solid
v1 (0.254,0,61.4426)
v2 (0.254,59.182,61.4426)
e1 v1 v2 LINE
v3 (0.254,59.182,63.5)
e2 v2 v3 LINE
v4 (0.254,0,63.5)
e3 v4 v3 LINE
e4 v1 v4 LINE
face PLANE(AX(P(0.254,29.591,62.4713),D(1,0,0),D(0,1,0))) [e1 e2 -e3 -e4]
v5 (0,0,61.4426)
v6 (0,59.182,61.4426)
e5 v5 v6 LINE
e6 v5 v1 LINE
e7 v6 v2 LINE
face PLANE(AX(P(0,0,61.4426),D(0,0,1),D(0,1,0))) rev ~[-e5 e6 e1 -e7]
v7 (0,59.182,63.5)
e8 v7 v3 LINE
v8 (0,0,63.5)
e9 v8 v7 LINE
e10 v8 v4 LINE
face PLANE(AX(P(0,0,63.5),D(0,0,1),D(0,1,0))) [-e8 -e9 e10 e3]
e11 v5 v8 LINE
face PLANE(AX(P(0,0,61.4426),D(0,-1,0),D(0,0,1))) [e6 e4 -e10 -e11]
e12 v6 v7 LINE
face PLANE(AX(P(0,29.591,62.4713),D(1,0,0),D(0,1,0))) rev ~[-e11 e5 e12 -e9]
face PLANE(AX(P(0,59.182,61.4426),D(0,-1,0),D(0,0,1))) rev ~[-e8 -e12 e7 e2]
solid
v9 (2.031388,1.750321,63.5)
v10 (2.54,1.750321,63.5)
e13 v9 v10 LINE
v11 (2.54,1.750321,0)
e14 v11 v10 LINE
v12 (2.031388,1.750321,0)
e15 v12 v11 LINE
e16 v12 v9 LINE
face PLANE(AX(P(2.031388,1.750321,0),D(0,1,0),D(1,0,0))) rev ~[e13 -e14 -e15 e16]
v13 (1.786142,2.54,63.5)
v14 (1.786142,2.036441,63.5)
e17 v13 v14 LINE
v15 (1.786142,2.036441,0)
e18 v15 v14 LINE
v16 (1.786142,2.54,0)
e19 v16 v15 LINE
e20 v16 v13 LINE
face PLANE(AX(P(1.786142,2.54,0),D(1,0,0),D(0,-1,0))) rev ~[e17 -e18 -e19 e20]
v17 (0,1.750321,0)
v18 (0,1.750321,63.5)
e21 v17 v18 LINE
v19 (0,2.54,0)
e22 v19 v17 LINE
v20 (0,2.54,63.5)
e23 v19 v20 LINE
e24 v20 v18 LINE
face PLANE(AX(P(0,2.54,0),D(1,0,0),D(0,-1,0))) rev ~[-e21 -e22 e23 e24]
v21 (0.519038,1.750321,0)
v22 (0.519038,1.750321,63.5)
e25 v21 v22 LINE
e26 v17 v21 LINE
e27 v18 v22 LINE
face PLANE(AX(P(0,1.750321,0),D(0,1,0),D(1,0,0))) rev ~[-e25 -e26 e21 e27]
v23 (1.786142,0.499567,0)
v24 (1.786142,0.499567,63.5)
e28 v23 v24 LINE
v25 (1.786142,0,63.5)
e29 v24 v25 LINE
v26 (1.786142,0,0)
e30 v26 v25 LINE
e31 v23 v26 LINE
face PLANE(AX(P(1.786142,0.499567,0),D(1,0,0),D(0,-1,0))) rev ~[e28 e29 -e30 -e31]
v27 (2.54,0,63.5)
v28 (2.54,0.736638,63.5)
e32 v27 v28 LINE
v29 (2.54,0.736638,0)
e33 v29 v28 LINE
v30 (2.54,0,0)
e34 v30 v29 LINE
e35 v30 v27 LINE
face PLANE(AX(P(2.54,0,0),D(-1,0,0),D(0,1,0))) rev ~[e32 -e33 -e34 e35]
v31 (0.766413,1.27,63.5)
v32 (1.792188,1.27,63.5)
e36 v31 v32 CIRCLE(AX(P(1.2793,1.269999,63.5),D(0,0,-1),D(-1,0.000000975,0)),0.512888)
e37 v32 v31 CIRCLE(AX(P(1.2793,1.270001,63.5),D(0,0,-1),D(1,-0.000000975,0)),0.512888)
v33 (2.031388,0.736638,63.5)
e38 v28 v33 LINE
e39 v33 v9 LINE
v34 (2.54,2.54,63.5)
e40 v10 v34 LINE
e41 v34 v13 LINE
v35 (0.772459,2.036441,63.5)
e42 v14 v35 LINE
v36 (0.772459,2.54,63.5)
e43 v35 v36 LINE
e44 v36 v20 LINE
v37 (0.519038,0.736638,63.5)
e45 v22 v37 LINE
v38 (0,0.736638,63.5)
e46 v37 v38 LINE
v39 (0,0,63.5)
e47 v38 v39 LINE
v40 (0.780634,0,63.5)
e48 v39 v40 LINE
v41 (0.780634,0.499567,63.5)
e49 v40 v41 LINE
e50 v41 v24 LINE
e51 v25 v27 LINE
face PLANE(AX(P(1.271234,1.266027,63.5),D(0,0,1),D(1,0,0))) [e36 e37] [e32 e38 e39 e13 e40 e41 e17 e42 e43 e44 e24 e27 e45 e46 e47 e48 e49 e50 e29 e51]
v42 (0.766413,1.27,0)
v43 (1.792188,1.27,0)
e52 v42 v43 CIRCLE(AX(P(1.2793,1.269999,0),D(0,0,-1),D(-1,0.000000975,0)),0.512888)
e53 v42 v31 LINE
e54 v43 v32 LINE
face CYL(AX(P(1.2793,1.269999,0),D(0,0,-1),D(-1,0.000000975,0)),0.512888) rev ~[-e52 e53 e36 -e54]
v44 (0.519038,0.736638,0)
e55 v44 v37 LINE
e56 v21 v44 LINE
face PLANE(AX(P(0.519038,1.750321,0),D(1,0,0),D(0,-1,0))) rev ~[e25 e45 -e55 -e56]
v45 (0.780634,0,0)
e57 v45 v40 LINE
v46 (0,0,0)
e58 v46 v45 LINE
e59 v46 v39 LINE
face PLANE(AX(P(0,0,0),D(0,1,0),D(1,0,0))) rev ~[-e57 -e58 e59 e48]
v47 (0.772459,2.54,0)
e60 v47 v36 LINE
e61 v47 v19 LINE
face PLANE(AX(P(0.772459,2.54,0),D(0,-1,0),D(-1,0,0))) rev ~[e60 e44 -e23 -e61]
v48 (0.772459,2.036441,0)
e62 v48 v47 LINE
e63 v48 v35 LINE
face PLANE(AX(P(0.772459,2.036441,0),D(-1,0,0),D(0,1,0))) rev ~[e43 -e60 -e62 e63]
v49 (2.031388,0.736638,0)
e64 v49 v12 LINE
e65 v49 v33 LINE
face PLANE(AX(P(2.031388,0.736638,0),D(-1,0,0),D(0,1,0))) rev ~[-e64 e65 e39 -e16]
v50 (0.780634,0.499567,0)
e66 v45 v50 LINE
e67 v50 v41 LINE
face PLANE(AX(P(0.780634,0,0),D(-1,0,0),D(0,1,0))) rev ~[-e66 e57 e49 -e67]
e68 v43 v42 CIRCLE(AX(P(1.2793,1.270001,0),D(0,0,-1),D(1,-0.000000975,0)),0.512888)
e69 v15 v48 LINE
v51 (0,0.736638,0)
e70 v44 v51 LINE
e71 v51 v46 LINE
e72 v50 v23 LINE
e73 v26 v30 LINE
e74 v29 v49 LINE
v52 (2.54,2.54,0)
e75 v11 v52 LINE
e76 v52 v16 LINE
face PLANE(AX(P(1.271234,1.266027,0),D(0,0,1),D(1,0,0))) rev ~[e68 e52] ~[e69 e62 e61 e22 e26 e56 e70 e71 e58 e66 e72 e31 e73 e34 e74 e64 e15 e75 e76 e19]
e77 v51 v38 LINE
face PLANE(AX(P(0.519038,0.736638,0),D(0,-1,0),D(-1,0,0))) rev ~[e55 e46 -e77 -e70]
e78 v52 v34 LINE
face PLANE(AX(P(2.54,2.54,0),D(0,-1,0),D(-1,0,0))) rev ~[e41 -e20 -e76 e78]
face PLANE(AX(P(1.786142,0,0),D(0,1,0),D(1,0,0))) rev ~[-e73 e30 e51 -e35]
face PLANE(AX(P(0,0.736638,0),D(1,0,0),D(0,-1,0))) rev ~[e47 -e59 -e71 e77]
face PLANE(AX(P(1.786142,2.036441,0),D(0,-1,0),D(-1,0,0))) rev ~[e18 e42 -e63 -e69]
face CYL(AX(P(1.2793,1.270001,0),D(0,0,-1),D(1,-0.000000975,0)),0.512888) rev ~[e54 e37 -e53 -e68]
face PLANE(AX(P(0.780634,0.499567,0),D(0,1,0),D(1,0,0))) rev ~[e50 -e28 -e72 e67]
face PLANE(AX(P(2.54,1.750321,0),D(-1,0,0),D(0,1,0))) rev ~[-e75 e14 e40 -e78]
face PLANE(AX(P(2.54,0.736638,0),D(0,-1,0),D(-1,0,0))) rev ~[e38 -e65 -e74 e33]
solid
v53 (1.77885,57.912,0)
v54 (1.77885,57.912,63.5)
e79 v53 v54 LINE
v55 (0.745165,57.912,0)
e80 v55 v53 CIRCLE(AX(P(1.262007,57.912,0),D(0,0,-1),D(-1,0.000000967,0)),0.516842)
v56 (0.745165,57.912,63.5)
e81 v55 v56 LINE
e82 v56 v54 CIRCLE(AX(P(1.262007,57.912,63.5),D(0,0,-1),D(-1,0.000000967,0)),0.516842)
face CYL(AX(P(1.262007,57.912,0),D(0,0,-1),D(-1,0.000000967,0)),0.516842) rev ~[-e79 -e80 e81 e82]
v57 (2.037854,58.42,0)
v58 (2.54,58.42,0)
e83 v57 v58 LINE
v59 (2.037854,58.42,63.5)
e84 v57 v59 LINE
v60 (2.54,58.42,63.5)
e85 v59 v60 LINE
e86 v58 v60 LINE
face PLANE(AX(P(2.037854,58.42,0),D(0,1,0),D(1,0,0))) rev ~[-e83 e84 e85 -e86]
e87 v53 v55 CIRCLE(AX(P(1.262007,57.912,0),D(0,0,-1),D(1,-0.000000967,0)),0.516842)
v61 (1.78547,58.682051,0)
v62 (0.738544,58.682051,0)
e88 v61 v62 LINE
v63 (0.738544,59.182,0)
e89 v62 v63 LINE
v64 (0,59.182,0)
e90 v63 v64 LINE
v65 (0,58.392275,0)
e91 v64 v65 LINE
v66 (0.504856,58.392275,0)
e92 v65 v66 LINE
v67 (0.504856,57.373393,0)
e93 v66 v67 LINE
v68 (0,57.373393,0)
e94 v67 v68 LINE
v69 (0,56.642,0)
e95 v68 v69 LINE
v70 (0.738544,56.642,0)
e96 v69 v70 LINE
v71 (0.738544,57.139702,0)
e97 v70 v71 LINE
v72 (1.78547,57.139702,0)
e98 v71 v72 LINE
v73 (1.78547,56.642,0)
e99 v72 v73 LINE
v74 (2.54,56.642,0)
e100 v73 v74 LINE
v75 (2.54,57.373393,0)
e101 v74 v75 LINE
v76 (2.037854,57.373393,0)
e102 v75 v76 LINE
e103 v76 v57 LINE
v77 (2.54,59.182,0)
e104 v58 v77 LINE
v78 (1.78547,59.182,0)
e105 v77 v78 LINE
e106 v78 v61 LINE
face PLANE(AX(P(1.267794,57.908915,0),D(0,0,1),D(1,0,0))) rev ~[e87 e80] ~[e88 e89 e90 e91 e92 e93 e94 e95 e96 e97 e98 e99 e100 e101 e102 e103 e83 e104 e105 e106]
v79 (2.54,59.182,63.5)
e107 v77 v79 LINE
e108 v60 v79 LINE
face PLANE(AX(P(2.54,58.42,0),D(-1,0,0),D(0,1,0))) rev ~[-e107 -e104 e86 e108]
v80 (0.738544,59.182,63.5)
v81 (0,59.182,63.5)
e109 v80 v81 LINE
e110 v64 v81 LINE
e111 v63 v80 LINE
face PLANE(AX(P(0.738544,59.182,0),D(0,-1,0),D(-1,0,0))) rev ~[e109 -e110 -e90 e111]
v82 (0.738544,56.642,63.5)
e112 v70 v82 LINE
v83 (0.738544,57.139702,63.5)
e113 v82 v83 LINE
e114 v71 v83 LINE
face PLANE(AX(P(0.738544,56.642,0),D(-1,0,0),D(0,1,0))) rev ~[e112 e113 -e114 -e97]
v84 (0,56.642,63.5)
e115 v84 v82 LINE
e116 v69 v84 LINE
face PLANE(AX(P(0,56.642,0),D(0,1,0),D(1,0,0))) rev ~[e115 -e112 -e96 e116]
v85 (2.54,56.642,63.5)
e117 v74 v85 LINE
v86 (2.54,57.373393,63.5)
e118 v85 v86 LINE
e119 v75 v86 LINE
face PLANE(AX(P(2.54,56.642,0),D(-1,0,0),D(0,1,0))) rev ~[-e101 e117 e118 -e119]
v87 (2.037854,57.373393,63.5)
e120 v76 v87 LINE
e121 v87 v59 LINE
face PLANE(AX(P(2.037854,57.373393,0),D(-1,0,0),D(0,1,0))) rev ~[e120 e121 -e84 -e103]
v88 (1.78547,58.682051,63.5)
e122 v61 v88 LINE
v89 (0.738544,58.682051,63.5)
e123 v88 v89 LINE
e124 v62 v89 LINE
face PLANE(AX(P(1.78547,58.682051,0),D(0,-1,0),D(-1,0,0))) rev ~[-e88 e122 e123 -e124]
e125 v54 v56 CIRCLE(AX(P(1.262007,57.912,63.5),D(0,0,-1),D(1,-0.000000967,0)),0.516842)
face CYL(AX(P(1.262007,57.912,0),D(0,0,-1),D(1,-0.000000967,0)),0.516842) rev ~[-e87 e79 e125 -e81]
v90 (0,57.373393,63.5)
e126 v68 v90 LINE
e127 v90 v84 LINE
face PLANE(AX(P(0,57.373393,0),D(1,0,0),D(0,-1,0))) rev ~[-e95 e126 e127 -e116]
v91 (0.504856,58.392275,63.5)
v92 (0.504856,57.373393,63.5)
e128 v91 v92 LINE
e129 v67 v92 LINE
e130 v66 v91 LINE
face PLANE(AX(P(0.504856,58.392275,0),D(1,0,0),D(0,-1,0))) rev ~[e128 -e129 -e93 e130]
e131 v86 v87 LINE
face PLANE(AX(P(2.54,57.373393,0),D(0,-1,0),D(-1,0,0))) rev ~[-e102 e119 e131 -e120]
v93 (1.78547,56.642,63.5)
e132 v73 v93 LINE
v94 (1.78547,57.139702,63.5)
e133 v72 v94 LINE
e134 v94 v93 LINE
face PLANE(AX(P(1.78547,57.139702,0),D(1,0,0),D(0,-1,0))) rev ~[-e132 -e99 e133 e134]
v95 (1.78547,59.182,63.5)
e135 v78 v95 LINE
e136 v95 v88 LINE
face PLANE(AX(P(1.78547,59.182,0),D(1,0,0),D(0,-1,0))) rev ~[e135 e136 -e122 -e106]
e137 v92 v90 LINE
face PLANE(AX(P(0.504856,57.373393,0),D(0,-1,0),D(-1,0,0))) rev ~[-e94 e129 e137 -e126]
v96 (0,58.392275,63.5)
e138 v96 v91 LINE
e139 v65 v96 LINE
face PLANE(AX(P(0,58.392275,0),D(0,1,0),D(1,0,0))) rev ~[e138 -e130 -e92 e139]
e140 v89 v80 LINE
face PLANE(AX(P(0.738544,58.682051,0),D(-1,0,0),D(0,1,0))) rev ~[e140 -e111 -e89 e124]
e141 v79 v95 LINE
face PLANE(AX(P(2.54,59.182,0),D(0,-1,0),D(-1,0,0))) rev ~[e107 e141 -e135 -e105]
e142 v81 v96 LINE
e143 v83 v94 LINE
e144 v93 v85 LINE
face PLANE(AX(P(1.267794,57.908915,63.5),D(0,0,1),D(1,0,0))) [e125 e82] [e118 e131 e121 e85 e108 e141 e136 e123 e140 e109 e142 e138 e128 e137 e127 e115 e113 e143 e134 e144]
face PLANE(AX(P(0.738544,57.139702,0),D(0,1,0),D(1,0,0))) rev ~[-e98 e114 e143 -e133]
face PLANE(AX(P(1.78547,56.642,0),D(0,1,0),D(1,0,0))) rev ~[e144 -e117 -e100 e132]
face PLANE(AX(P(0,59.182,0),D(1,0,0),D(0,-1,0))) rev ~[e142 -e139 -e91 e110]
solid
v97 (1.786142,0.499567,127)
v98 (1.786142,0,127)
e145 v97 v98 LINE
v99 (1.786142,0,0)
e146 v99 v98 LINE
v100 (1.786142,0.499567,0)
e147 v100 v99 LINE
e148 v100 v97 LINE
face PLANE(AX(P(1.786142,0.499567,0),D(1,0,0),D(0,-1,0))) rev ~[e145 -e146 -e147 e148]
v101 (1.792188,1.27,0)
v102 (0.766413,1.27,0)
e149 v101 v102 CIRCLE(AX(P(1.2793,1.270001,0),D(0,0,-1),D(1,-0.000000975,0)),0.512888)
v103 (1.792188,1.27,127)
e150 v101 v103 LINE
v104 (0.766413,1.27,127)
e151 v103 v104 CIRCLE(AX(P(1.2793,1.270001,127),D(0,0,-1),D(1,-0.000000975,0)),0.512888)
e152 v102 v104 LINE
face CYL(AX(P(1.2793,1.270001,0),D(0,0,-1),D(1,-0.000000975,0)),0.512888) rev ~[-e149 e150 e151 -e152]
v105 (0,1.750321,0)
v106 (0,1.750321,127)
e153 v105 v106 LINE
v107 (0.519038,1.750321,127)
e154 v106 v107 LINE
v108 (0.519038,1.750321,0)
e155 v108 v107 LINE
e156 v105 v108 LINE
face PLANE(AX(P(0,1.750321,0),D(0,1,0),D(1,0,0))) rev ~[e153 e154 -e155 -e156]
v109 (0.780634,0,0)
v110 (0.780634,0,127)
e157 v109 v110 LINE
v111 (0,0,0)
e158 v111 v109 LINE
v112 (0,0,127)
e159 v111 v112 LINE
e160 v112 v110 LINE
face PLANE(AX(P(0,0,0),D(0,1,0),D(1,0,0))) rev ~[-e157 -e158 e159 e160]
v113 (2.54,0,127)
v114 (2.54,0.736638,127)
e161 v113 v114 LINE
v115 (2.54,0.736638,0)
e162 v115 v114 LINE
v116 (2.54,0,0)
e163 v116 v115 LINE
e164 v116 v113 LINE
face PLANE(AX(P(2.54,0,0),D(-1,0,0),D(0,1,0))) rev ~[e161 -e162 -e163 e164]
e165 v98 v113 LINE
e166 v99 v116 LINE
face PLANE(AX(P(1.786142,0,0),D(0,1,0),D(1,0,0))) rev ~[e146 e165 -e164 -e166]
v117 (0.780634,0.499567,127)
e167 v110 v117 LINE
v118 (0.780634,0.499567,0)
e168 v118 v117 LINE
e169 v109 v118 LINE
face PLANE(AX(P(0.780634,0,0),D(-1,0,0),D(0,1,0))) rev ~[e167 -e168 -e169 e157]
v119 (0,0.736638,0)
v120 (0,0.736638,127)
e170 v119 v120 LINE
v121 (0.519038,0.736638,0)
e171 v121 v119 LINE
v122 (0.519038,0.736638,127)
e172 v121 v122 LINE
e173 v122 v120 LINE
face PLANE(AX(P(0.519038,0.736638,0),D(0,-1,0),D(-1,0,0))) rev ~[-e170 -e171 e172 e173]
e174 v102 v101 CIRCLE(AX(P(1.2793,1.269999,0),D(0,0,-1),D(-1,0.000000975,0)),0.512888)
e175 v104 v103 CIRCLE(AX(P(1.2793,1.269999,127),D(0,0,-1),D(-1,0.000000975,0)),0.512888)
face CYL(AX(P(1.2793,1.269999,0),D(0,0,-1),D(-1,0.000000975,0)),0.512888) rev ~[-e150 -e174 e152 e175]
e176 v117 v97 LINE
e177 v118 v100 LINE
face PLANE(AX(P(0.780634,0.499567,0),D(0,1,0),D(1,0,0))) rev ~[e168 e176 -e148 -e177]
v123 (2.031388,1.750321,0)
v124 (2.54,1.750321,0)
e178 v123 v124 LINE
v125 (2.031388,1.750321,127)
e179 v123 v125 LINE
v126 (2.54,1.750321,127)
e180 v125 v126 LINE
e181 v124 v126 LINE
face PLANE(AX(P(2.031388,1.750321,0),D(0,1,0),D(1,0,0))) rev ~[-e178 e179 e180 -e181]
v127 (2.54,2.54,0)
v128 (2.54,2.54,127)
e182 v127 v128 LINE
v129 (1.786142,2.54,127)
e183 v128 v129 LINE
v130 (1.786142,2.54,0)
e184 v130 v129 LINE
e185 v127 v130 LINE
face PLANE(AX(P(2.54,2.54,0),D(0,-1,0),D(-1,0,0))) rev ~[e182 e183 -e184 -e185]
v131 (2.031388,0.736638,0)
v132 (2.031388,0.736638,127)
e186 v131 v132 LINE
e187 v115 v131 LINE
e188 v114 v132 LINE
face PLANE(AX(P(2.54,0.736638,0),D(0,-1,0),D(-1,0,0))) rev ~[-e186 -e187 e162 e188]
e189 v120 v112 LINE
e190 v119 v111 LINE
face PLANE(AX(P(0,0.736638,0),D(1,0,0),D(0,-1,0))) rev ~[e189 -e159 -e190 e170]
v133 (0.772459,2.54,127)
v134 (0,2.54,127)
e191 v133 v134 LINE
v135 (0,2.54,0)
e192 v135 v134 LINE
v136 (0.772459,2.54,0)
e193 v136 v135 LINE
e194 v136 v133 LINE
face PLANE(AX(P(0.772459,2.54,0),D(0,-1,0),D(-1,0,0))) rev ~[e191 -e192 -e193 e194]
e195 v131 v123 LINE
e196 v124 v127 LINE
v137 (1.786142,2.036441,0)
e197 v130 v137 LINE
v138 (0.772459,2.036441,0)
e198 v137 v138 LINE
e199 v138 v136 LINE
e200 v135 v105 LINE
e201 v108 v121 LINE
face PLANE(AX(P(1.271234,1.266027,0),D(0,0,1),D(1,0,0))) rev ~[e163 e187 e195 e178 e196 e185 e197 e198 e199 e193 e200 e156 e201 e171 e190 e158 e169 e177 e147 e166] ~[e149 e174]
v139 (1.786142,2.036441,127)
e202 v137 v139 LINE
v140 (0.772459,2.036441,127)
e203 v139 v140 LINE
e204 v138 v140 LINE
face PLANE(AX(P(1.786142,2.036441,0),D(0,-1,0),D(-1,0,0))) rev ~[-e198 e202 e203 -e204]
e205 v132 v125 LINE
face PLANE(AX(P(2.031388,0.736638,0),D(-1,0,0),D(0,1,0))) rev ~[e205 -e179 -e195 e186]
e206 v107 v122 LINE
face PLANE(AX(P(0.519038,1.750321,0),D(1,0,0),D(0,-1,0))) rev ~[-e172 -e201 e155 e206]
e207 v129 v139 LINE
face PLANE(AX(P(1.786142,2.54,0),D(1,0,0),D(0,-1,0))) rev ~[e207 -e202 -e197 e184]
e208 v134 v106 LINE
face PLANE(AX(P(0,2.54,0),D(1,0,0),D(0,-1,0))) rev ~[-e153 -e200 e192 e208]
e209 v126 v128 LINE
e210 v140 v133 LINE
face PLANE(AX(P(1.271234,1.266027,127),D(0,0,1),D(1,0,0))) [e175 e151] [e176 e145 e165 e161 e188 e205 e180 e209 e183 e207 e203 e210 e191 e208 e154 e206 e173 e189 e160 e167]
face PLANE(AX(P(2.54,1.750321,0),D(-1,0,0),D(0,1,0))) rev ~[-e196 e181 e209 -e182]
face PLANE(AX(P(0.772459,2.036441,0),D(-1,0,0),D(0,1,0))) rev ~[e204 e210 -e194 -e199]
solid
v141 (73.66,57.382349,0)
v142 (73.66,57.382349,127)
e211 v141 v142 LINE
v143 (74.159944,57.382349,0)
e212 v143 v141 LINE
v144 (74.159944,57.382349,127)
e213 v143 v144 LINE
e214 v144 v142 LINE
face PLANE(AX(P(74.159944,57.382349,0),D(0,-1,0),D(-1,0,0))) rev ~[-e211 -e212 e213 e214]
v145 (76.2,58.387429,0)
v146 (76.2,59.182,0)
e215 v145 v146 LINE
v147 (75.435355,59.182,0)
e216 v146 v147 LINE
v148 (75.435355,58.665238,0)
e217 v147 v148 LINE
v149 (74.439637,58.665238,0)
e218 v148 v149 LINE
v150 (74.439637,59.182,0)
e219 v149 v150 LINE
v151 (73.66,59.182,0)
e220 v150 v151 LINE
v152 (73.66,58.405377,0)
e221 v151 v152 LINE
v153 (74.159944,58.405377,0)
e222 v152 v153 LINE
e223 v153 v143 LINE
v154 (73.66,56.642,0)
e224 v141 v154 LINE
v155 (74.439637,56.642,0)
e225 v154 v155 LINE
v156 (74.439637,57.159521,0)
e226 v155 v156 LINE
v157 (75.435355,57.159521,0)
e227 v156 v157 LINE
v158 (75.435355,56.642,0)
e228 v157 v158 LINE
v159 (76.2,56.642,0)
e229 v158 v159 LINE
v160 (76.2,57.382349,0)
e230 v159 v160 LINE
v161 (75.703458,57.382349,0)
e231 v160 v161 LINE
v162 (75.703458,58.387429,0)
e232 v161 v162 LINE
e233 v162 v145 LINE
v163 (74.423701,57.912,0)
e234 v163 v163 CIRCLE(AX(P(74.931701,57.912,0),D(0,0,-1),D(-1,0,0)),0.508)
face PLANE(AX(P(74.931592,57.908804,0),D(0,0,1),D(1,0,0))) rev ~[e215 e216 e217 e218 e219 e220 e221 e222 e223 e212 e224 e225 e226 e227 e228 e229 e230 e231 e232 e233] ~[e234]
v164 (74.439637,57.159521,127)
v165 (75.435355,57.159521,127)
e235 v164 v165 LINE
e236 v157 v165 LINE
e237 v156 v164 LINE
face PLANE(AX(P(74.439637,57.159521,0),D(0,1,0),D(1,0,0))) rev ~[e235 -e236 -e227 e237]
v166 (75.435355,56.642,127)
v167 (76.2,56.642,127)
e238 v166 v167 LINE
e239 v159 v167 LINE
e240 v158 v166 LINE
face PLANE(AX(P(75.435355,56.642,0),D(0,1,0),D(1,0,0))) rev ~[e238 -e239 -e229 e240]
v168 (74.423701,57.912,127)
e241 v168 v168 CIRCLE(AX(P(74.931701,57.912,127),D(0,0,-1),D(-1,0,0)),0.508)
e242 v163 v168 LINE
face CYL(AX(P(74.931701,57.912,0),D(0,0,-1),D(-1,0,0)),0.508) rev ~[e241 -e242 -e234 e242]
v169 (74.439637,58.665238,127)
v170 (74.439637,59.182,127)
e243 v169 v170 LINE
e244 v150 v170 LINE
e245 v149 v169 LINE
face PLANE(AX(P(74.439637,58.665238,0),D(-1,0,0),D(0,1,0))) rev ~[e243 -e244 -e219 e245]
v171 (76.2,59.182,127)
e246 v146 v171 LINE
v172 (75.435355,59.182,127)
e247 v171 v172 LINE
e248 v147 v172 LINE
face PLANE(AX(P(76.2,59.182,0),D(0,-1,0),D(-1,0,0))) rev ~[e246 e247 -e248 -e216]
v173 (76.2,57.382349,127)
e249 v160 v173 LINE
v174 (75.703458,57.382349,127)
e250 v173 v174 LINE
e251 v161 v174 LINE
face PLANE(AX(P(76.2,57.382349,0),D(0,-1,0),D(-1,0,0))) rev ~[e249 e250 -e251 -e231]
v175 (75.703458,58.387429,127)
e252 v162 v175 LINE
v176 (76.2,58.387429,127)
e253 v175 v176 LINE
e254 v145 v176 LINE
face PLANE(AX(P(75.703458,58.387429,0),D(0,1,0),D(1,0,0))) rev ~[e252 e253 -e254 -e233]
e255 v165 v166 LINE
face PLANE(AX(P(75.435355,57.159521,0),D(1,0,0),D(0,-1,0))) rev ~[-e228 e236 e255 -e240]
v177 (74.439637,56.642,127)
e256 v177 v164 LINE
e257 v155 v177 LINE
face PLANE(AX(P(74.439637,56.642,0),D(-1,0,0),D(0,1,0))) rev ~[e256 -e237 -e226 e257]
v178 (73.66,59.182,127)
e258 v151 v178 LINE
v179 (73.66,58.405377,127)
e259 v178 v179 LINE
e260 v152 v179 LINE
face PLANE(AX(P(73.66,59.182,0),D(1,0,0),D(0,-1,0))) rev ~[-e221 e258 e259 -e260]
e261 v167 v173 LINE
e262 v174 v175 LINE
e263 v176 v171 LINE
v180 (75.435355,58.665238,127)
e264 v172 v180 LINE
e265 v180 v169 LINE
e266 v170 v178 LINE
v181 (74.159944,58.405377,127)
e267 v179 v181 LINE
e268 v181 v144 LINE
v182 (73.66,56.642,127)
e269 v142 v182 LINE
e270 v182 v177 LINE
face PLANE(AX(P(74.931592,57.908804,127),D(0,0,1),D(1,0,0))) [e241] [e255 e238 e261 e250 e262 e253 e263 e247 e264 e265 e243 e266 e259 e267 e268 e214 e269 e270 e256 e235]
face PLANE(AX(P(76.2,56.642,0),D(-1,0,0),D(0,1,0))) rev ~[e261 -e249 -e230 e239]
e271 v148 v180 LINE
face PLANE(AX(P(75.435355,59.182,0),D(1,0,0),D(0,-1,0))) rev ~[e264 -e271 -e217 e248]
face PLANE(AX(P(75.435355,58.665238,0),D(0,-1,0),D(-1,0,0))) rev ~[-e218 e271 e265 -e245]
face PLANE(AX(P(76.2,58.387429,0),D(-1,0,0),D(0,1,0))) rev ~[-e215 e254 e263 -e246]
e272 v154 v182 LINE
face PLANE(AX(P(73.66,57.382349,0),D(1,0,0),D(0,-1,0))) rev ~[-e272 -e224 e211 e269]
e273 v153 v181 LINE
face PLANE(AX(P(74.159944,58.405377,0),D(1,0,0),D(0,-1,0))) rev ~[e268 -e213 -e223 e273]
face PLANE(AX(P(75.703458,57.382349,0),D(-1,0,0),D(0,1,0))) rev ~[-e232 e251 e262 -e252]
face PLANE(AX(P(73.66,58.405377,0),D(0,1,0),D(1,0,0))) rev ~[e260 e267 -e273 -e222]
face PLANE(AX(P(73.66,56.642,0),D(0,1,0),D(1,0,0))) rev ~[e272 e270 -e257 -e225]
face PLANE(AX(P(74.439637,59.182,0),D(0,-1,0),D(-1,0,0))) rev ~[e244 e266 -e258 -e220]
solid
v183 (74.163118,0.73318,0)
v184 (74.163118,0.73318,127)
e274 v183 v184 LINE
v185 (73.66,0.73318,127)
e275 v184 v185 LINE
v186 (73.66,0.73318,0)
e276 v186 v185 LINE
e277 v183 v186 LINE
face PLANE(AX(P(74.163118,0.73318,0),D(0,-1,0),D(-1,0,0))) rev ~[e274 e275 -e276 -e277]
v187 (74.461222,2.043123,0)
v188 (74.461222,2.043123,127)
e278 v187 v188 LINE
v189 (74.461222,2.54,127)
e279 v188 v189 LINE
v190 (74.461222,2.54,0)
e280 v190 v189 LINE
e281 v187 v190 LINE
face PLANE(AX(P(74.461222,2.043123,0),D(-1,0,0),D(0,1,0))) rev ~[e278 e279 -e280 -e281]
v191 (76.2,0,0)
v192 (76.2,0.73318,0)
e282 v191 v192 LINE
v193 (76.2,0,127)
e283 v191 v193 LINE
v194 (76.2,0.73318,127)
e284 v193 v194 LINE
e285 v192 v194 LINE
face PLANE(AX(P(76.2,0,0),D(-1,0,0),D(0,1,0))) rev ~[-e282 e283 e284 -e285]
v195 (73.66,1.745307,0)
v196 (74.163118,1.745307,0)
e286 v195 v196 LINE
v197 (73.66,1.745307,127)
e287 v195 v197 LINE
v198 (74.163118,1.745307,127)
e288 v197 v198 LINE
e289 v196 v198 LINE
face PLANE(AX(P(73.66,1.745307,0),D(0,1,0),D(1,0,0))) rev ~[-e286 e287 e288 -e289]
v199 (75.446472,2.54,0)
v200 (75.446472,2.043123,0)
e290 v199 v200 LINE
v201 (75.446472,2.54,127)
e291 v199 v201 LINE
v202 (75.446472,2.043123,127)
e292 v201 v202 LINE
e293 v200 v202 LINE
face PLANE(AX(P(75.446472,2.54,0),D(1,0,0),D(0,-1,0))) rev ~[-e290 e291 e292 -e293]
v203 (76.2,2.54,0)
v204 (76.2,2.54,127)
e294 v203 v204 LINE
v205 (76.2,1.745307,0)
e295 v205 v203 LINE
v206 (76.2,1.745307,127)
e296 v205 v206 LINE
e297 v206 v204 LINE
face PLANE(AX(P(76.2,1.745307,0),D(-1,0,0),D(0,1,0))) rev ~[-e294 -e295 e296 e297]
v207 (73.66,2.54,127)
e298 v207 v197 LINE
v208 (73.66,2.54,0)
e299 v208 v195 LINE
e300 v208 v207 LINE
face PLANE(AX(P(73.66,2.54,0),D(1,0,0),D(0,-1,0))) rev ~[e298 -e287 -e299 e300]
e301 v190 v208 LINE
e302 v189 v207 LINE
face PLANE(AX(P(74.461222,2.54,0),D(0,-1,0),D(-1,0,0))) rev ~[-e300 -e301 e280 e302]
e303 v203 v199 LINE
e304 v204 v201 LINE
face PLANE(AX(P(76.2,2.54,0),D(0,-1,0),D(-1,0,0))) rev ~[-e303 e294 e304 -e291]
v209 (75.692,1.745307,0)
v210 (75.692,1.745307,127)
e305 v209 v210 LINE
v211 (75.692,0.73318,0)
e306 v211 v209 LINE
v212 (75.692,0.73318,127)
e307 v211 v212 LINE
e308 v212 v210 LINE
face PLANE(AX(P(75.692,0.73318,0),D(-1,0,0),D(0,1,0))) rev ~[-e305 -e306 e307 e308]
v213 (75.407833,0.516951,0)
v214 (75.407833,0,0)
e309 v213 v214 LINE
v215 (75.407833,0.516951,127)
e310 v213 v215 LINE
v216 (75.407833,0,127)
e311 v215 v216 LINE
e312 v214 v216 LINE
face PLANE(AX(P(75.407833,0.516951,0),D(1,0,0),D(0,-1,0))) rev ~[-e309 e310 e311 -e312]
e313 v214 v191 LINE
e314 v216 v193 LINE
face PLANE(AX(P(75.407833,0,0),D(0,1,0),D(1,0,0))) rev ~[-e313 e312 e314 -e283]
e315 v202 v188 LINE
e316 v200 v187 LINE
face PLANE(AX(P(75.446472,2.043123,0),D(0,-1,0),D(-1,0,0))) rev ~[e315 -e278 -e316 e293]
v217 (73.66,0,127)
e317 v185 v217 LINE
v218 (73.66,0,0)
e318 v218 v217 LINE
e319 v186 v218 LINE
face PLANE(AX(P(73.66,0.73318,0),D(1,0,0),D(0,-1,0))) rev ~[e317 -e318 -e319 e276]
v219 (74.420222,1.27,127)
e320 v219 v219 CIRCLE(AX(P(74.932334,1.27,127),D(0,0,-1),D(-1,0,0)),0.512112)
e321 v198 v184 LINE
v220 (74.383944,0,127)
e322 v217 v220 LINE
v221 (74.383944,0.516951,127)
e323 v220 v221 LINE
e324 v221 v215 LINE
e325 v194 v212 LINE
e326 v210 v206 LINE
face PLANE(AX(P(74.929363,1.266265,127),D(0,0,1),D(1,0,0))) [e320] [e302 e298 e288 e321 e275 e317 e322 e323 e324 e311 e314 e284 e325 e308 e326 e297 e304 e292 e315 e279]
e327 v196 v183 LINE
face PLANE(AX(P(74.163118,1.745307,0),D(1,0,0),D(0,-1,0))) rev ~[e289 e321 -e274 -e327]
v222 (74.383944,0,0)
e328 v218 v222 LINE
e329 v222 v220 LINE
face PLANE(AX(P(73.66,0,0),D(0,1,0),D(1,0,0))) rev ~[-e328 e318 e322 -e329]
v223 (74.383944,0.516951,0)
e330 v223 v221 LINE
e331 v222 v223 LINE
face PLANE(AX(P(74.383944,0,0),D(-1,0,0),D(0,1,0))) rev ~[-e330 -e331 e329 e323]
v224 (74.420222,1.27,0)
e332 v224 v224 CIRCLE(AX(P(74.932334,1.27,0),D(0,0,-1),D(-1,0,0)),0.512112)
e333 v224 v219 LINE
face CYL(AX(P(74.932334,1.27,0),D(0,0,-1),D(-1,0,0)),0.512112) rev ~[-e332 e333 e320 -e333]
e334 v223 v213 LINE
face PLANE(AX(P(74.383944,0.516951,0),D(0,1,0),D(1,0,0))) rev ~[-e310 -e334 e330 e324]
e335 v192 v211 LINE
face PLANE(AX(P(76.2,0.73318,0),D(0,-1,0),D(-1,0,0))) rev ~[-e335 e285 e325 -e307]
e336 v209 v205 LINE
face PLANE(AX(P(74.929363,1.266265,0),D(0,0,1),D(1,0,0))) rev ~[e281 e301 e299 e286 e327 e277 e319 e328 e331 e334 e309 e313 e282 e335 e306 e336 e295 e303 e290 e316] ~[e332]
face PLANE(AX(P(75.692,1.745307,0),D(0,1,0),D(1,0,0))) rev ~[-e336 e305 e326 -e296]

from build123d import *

# Parameters (mm, degrees)
F1_DEPTH = 127
F2_W     = 59.182
F2_H     = 2.0574
F3_DEPTH = 0.254
F4_DEPTH = 63.5


with BuildPart() as f1:
    # F0 (on Top) → F1 (new body)
    with BuildSketch(Plane.XY):
        Polygon((75.435355, 56.642), (76.2, 56.642), (76.2, 57.382349), (75.703458, 57.382349), (75.703458, 58.387429), (76.2, 58.387429), (76.2, 59.182), (75.435355, 59.182), (75.435355, 58.665238), (74.439637, 58.665238), (74.439637, 59.182), (73.66, 59.182), (73.66, 58.405377), (74.159944, 58.405377), (74.159944, 57.912), (74.159944, 57.382349), (73.66, 57.382349), (73.66, 56.642), (74.439637, 56.642), (74.439637, 57.159521), (75.435355, 57.159521), align=None)
        with BuildLine():
            ThreePointArc((75.439701, 57.912), (74.931701, 57.404), (74.423701, 57.912))
            ThreePointArc((74.423701, 57.912), (74.931701, 58.42), (75.439701, 57.912))
        make_face(mode=Mode.SUBTRACT)
        Polygon((73.66, 0.73318), (73.66, 0), (74.383944, 0), (74.383944, 0.516951), (75.407833, 0.516951), (75.407833, 0), (76.2, 0), (76.2, 0.73318), (75.692, 0.73318), (75.692, 1.745307), (76.2, 1.745307), (76.2, 2.54), (75.446472, 2.54), (75.446472, 2.043123), (74.461222, 2.043123), (74.461222, 2.54), (73.66, 2.54), (73.66, 1.745307), (74.163118, 1.745307), (74.163118, 1.27), (74.163118, 0.73318), align=None)
        with BuildLine():
            ThreePointArc((75.444446, 1.27), (74.932334, 0.757888), (74.420222, 1.27))
            ThreePointArc((74.420222, 1.27), (74.932334, 1.782112), (75.444446, 1.27))
        make_face(mode=Mode.SUBTRACT)
        Polygon((0, 0.736638), (0, 0), (0.780634, 0), (0.780634, 0.499567), (1.786142, 0.499567), (1.786142, 0), (2.54, 0), (2.54, 0.736638), (2.031388, 0.736638), (2.031388, 1.750321), (2.54, 1.750321), (2.54, 2.54), (1.786142, 2.54), (1.786142, 2.036441), (0.772459, 2.036441), (0.772459, 2.54), (0, 2.54), (0, 1.750321), (0.519038, 1.750321), (0.519038, 1.27), (0.519038, 0.736638), align=None)
        with BuildLine():
            ThreePointArc((1.792188, 1.27), (1.2793, 0.757113), (0.766413, 1.27))
            ThreePointArc((0.766413, 1.27), (1.2793, 1.782887), (1.792188, 1.27))
        make_face(mode=Mode.SUBTRACT)
    extrude(amount=F1_DEPTH)


with BuildPart() as f3:
    # F2 (on Right) → F3 (new body)
    with BuildSketch(Plane.YZ):
        with Locations((29.591, 62.4713)):
            Rectangle(F2_W, F2_H)
    extrude(amount=F3_DEPTH)


with BuildPart() as f4:
    # F0 (on Top) → F4 (new body)
    with BuildSketch(Plane.XY):
        Polygon((0, 0.736638), (0, 0), (0.780634, 0), (0.780634, 0.499567), (1.786142, 0.499567), (1.786142, 0), (2.54, 0), (2.54, 0.736638), (2.031388, 0.736638), (2.031388, 1.750321), (2.54, 1.750321), (2.54, 2.54), (1.786142, 2.54), (1.786142, 2.036441), (0.772459, 2.036441), (0.772459, 2.54), (0, 2.54), (0, 1.750321), (0.519038, 1.750321), (0.519038, 1.27), (0.519038, 0.736638), align=None)
        with BuildLine():
            ThreePointArc((1.792188, 1.27), (1.2793, 0.757113), (0.766413, 1.27))
            ThreePointArc((0.766413, 1.27), (1.2793, 1.782887), (1.792188, 1.27))
        make_face(mode=Mode.SUBTRACT)
        Polygon((0, 57.373393), (0, 56.642), (0.738544, 56.642), (0.738544, 57.139702), (1.78547, 57.139702), (1.78547, 56.642), (2.54, 56.642), (2.54, 57.373393), (2.037854, 57.373393), (2.037854, 58.42), (2.54, 58.42), (2.54, 59.182), (1.78547, 59.182), (1.78547, 58.682051), (0.738544, 58.682051), (0.738544, 59.182), (0, 59.182), (0, 58.392275), (0.504856, 58.392275), (0.504856, 57.912), (0.504856, 57.373393), align=None)
        with BuildLine():
            ThreePointArc((1.77885, 57.912), (1.262007, 57.395158), (0.745165, 57.912))
            ThreePointArc((0.745165, 57.912), (1.262007, 58.428842), (1.77885, 57.912))
        make_face(mode=Mode.SUBTRACT)
    extrude(amount=F4_DEPTH)


solid = Compound([f1.part, f3.part, f4.part])
